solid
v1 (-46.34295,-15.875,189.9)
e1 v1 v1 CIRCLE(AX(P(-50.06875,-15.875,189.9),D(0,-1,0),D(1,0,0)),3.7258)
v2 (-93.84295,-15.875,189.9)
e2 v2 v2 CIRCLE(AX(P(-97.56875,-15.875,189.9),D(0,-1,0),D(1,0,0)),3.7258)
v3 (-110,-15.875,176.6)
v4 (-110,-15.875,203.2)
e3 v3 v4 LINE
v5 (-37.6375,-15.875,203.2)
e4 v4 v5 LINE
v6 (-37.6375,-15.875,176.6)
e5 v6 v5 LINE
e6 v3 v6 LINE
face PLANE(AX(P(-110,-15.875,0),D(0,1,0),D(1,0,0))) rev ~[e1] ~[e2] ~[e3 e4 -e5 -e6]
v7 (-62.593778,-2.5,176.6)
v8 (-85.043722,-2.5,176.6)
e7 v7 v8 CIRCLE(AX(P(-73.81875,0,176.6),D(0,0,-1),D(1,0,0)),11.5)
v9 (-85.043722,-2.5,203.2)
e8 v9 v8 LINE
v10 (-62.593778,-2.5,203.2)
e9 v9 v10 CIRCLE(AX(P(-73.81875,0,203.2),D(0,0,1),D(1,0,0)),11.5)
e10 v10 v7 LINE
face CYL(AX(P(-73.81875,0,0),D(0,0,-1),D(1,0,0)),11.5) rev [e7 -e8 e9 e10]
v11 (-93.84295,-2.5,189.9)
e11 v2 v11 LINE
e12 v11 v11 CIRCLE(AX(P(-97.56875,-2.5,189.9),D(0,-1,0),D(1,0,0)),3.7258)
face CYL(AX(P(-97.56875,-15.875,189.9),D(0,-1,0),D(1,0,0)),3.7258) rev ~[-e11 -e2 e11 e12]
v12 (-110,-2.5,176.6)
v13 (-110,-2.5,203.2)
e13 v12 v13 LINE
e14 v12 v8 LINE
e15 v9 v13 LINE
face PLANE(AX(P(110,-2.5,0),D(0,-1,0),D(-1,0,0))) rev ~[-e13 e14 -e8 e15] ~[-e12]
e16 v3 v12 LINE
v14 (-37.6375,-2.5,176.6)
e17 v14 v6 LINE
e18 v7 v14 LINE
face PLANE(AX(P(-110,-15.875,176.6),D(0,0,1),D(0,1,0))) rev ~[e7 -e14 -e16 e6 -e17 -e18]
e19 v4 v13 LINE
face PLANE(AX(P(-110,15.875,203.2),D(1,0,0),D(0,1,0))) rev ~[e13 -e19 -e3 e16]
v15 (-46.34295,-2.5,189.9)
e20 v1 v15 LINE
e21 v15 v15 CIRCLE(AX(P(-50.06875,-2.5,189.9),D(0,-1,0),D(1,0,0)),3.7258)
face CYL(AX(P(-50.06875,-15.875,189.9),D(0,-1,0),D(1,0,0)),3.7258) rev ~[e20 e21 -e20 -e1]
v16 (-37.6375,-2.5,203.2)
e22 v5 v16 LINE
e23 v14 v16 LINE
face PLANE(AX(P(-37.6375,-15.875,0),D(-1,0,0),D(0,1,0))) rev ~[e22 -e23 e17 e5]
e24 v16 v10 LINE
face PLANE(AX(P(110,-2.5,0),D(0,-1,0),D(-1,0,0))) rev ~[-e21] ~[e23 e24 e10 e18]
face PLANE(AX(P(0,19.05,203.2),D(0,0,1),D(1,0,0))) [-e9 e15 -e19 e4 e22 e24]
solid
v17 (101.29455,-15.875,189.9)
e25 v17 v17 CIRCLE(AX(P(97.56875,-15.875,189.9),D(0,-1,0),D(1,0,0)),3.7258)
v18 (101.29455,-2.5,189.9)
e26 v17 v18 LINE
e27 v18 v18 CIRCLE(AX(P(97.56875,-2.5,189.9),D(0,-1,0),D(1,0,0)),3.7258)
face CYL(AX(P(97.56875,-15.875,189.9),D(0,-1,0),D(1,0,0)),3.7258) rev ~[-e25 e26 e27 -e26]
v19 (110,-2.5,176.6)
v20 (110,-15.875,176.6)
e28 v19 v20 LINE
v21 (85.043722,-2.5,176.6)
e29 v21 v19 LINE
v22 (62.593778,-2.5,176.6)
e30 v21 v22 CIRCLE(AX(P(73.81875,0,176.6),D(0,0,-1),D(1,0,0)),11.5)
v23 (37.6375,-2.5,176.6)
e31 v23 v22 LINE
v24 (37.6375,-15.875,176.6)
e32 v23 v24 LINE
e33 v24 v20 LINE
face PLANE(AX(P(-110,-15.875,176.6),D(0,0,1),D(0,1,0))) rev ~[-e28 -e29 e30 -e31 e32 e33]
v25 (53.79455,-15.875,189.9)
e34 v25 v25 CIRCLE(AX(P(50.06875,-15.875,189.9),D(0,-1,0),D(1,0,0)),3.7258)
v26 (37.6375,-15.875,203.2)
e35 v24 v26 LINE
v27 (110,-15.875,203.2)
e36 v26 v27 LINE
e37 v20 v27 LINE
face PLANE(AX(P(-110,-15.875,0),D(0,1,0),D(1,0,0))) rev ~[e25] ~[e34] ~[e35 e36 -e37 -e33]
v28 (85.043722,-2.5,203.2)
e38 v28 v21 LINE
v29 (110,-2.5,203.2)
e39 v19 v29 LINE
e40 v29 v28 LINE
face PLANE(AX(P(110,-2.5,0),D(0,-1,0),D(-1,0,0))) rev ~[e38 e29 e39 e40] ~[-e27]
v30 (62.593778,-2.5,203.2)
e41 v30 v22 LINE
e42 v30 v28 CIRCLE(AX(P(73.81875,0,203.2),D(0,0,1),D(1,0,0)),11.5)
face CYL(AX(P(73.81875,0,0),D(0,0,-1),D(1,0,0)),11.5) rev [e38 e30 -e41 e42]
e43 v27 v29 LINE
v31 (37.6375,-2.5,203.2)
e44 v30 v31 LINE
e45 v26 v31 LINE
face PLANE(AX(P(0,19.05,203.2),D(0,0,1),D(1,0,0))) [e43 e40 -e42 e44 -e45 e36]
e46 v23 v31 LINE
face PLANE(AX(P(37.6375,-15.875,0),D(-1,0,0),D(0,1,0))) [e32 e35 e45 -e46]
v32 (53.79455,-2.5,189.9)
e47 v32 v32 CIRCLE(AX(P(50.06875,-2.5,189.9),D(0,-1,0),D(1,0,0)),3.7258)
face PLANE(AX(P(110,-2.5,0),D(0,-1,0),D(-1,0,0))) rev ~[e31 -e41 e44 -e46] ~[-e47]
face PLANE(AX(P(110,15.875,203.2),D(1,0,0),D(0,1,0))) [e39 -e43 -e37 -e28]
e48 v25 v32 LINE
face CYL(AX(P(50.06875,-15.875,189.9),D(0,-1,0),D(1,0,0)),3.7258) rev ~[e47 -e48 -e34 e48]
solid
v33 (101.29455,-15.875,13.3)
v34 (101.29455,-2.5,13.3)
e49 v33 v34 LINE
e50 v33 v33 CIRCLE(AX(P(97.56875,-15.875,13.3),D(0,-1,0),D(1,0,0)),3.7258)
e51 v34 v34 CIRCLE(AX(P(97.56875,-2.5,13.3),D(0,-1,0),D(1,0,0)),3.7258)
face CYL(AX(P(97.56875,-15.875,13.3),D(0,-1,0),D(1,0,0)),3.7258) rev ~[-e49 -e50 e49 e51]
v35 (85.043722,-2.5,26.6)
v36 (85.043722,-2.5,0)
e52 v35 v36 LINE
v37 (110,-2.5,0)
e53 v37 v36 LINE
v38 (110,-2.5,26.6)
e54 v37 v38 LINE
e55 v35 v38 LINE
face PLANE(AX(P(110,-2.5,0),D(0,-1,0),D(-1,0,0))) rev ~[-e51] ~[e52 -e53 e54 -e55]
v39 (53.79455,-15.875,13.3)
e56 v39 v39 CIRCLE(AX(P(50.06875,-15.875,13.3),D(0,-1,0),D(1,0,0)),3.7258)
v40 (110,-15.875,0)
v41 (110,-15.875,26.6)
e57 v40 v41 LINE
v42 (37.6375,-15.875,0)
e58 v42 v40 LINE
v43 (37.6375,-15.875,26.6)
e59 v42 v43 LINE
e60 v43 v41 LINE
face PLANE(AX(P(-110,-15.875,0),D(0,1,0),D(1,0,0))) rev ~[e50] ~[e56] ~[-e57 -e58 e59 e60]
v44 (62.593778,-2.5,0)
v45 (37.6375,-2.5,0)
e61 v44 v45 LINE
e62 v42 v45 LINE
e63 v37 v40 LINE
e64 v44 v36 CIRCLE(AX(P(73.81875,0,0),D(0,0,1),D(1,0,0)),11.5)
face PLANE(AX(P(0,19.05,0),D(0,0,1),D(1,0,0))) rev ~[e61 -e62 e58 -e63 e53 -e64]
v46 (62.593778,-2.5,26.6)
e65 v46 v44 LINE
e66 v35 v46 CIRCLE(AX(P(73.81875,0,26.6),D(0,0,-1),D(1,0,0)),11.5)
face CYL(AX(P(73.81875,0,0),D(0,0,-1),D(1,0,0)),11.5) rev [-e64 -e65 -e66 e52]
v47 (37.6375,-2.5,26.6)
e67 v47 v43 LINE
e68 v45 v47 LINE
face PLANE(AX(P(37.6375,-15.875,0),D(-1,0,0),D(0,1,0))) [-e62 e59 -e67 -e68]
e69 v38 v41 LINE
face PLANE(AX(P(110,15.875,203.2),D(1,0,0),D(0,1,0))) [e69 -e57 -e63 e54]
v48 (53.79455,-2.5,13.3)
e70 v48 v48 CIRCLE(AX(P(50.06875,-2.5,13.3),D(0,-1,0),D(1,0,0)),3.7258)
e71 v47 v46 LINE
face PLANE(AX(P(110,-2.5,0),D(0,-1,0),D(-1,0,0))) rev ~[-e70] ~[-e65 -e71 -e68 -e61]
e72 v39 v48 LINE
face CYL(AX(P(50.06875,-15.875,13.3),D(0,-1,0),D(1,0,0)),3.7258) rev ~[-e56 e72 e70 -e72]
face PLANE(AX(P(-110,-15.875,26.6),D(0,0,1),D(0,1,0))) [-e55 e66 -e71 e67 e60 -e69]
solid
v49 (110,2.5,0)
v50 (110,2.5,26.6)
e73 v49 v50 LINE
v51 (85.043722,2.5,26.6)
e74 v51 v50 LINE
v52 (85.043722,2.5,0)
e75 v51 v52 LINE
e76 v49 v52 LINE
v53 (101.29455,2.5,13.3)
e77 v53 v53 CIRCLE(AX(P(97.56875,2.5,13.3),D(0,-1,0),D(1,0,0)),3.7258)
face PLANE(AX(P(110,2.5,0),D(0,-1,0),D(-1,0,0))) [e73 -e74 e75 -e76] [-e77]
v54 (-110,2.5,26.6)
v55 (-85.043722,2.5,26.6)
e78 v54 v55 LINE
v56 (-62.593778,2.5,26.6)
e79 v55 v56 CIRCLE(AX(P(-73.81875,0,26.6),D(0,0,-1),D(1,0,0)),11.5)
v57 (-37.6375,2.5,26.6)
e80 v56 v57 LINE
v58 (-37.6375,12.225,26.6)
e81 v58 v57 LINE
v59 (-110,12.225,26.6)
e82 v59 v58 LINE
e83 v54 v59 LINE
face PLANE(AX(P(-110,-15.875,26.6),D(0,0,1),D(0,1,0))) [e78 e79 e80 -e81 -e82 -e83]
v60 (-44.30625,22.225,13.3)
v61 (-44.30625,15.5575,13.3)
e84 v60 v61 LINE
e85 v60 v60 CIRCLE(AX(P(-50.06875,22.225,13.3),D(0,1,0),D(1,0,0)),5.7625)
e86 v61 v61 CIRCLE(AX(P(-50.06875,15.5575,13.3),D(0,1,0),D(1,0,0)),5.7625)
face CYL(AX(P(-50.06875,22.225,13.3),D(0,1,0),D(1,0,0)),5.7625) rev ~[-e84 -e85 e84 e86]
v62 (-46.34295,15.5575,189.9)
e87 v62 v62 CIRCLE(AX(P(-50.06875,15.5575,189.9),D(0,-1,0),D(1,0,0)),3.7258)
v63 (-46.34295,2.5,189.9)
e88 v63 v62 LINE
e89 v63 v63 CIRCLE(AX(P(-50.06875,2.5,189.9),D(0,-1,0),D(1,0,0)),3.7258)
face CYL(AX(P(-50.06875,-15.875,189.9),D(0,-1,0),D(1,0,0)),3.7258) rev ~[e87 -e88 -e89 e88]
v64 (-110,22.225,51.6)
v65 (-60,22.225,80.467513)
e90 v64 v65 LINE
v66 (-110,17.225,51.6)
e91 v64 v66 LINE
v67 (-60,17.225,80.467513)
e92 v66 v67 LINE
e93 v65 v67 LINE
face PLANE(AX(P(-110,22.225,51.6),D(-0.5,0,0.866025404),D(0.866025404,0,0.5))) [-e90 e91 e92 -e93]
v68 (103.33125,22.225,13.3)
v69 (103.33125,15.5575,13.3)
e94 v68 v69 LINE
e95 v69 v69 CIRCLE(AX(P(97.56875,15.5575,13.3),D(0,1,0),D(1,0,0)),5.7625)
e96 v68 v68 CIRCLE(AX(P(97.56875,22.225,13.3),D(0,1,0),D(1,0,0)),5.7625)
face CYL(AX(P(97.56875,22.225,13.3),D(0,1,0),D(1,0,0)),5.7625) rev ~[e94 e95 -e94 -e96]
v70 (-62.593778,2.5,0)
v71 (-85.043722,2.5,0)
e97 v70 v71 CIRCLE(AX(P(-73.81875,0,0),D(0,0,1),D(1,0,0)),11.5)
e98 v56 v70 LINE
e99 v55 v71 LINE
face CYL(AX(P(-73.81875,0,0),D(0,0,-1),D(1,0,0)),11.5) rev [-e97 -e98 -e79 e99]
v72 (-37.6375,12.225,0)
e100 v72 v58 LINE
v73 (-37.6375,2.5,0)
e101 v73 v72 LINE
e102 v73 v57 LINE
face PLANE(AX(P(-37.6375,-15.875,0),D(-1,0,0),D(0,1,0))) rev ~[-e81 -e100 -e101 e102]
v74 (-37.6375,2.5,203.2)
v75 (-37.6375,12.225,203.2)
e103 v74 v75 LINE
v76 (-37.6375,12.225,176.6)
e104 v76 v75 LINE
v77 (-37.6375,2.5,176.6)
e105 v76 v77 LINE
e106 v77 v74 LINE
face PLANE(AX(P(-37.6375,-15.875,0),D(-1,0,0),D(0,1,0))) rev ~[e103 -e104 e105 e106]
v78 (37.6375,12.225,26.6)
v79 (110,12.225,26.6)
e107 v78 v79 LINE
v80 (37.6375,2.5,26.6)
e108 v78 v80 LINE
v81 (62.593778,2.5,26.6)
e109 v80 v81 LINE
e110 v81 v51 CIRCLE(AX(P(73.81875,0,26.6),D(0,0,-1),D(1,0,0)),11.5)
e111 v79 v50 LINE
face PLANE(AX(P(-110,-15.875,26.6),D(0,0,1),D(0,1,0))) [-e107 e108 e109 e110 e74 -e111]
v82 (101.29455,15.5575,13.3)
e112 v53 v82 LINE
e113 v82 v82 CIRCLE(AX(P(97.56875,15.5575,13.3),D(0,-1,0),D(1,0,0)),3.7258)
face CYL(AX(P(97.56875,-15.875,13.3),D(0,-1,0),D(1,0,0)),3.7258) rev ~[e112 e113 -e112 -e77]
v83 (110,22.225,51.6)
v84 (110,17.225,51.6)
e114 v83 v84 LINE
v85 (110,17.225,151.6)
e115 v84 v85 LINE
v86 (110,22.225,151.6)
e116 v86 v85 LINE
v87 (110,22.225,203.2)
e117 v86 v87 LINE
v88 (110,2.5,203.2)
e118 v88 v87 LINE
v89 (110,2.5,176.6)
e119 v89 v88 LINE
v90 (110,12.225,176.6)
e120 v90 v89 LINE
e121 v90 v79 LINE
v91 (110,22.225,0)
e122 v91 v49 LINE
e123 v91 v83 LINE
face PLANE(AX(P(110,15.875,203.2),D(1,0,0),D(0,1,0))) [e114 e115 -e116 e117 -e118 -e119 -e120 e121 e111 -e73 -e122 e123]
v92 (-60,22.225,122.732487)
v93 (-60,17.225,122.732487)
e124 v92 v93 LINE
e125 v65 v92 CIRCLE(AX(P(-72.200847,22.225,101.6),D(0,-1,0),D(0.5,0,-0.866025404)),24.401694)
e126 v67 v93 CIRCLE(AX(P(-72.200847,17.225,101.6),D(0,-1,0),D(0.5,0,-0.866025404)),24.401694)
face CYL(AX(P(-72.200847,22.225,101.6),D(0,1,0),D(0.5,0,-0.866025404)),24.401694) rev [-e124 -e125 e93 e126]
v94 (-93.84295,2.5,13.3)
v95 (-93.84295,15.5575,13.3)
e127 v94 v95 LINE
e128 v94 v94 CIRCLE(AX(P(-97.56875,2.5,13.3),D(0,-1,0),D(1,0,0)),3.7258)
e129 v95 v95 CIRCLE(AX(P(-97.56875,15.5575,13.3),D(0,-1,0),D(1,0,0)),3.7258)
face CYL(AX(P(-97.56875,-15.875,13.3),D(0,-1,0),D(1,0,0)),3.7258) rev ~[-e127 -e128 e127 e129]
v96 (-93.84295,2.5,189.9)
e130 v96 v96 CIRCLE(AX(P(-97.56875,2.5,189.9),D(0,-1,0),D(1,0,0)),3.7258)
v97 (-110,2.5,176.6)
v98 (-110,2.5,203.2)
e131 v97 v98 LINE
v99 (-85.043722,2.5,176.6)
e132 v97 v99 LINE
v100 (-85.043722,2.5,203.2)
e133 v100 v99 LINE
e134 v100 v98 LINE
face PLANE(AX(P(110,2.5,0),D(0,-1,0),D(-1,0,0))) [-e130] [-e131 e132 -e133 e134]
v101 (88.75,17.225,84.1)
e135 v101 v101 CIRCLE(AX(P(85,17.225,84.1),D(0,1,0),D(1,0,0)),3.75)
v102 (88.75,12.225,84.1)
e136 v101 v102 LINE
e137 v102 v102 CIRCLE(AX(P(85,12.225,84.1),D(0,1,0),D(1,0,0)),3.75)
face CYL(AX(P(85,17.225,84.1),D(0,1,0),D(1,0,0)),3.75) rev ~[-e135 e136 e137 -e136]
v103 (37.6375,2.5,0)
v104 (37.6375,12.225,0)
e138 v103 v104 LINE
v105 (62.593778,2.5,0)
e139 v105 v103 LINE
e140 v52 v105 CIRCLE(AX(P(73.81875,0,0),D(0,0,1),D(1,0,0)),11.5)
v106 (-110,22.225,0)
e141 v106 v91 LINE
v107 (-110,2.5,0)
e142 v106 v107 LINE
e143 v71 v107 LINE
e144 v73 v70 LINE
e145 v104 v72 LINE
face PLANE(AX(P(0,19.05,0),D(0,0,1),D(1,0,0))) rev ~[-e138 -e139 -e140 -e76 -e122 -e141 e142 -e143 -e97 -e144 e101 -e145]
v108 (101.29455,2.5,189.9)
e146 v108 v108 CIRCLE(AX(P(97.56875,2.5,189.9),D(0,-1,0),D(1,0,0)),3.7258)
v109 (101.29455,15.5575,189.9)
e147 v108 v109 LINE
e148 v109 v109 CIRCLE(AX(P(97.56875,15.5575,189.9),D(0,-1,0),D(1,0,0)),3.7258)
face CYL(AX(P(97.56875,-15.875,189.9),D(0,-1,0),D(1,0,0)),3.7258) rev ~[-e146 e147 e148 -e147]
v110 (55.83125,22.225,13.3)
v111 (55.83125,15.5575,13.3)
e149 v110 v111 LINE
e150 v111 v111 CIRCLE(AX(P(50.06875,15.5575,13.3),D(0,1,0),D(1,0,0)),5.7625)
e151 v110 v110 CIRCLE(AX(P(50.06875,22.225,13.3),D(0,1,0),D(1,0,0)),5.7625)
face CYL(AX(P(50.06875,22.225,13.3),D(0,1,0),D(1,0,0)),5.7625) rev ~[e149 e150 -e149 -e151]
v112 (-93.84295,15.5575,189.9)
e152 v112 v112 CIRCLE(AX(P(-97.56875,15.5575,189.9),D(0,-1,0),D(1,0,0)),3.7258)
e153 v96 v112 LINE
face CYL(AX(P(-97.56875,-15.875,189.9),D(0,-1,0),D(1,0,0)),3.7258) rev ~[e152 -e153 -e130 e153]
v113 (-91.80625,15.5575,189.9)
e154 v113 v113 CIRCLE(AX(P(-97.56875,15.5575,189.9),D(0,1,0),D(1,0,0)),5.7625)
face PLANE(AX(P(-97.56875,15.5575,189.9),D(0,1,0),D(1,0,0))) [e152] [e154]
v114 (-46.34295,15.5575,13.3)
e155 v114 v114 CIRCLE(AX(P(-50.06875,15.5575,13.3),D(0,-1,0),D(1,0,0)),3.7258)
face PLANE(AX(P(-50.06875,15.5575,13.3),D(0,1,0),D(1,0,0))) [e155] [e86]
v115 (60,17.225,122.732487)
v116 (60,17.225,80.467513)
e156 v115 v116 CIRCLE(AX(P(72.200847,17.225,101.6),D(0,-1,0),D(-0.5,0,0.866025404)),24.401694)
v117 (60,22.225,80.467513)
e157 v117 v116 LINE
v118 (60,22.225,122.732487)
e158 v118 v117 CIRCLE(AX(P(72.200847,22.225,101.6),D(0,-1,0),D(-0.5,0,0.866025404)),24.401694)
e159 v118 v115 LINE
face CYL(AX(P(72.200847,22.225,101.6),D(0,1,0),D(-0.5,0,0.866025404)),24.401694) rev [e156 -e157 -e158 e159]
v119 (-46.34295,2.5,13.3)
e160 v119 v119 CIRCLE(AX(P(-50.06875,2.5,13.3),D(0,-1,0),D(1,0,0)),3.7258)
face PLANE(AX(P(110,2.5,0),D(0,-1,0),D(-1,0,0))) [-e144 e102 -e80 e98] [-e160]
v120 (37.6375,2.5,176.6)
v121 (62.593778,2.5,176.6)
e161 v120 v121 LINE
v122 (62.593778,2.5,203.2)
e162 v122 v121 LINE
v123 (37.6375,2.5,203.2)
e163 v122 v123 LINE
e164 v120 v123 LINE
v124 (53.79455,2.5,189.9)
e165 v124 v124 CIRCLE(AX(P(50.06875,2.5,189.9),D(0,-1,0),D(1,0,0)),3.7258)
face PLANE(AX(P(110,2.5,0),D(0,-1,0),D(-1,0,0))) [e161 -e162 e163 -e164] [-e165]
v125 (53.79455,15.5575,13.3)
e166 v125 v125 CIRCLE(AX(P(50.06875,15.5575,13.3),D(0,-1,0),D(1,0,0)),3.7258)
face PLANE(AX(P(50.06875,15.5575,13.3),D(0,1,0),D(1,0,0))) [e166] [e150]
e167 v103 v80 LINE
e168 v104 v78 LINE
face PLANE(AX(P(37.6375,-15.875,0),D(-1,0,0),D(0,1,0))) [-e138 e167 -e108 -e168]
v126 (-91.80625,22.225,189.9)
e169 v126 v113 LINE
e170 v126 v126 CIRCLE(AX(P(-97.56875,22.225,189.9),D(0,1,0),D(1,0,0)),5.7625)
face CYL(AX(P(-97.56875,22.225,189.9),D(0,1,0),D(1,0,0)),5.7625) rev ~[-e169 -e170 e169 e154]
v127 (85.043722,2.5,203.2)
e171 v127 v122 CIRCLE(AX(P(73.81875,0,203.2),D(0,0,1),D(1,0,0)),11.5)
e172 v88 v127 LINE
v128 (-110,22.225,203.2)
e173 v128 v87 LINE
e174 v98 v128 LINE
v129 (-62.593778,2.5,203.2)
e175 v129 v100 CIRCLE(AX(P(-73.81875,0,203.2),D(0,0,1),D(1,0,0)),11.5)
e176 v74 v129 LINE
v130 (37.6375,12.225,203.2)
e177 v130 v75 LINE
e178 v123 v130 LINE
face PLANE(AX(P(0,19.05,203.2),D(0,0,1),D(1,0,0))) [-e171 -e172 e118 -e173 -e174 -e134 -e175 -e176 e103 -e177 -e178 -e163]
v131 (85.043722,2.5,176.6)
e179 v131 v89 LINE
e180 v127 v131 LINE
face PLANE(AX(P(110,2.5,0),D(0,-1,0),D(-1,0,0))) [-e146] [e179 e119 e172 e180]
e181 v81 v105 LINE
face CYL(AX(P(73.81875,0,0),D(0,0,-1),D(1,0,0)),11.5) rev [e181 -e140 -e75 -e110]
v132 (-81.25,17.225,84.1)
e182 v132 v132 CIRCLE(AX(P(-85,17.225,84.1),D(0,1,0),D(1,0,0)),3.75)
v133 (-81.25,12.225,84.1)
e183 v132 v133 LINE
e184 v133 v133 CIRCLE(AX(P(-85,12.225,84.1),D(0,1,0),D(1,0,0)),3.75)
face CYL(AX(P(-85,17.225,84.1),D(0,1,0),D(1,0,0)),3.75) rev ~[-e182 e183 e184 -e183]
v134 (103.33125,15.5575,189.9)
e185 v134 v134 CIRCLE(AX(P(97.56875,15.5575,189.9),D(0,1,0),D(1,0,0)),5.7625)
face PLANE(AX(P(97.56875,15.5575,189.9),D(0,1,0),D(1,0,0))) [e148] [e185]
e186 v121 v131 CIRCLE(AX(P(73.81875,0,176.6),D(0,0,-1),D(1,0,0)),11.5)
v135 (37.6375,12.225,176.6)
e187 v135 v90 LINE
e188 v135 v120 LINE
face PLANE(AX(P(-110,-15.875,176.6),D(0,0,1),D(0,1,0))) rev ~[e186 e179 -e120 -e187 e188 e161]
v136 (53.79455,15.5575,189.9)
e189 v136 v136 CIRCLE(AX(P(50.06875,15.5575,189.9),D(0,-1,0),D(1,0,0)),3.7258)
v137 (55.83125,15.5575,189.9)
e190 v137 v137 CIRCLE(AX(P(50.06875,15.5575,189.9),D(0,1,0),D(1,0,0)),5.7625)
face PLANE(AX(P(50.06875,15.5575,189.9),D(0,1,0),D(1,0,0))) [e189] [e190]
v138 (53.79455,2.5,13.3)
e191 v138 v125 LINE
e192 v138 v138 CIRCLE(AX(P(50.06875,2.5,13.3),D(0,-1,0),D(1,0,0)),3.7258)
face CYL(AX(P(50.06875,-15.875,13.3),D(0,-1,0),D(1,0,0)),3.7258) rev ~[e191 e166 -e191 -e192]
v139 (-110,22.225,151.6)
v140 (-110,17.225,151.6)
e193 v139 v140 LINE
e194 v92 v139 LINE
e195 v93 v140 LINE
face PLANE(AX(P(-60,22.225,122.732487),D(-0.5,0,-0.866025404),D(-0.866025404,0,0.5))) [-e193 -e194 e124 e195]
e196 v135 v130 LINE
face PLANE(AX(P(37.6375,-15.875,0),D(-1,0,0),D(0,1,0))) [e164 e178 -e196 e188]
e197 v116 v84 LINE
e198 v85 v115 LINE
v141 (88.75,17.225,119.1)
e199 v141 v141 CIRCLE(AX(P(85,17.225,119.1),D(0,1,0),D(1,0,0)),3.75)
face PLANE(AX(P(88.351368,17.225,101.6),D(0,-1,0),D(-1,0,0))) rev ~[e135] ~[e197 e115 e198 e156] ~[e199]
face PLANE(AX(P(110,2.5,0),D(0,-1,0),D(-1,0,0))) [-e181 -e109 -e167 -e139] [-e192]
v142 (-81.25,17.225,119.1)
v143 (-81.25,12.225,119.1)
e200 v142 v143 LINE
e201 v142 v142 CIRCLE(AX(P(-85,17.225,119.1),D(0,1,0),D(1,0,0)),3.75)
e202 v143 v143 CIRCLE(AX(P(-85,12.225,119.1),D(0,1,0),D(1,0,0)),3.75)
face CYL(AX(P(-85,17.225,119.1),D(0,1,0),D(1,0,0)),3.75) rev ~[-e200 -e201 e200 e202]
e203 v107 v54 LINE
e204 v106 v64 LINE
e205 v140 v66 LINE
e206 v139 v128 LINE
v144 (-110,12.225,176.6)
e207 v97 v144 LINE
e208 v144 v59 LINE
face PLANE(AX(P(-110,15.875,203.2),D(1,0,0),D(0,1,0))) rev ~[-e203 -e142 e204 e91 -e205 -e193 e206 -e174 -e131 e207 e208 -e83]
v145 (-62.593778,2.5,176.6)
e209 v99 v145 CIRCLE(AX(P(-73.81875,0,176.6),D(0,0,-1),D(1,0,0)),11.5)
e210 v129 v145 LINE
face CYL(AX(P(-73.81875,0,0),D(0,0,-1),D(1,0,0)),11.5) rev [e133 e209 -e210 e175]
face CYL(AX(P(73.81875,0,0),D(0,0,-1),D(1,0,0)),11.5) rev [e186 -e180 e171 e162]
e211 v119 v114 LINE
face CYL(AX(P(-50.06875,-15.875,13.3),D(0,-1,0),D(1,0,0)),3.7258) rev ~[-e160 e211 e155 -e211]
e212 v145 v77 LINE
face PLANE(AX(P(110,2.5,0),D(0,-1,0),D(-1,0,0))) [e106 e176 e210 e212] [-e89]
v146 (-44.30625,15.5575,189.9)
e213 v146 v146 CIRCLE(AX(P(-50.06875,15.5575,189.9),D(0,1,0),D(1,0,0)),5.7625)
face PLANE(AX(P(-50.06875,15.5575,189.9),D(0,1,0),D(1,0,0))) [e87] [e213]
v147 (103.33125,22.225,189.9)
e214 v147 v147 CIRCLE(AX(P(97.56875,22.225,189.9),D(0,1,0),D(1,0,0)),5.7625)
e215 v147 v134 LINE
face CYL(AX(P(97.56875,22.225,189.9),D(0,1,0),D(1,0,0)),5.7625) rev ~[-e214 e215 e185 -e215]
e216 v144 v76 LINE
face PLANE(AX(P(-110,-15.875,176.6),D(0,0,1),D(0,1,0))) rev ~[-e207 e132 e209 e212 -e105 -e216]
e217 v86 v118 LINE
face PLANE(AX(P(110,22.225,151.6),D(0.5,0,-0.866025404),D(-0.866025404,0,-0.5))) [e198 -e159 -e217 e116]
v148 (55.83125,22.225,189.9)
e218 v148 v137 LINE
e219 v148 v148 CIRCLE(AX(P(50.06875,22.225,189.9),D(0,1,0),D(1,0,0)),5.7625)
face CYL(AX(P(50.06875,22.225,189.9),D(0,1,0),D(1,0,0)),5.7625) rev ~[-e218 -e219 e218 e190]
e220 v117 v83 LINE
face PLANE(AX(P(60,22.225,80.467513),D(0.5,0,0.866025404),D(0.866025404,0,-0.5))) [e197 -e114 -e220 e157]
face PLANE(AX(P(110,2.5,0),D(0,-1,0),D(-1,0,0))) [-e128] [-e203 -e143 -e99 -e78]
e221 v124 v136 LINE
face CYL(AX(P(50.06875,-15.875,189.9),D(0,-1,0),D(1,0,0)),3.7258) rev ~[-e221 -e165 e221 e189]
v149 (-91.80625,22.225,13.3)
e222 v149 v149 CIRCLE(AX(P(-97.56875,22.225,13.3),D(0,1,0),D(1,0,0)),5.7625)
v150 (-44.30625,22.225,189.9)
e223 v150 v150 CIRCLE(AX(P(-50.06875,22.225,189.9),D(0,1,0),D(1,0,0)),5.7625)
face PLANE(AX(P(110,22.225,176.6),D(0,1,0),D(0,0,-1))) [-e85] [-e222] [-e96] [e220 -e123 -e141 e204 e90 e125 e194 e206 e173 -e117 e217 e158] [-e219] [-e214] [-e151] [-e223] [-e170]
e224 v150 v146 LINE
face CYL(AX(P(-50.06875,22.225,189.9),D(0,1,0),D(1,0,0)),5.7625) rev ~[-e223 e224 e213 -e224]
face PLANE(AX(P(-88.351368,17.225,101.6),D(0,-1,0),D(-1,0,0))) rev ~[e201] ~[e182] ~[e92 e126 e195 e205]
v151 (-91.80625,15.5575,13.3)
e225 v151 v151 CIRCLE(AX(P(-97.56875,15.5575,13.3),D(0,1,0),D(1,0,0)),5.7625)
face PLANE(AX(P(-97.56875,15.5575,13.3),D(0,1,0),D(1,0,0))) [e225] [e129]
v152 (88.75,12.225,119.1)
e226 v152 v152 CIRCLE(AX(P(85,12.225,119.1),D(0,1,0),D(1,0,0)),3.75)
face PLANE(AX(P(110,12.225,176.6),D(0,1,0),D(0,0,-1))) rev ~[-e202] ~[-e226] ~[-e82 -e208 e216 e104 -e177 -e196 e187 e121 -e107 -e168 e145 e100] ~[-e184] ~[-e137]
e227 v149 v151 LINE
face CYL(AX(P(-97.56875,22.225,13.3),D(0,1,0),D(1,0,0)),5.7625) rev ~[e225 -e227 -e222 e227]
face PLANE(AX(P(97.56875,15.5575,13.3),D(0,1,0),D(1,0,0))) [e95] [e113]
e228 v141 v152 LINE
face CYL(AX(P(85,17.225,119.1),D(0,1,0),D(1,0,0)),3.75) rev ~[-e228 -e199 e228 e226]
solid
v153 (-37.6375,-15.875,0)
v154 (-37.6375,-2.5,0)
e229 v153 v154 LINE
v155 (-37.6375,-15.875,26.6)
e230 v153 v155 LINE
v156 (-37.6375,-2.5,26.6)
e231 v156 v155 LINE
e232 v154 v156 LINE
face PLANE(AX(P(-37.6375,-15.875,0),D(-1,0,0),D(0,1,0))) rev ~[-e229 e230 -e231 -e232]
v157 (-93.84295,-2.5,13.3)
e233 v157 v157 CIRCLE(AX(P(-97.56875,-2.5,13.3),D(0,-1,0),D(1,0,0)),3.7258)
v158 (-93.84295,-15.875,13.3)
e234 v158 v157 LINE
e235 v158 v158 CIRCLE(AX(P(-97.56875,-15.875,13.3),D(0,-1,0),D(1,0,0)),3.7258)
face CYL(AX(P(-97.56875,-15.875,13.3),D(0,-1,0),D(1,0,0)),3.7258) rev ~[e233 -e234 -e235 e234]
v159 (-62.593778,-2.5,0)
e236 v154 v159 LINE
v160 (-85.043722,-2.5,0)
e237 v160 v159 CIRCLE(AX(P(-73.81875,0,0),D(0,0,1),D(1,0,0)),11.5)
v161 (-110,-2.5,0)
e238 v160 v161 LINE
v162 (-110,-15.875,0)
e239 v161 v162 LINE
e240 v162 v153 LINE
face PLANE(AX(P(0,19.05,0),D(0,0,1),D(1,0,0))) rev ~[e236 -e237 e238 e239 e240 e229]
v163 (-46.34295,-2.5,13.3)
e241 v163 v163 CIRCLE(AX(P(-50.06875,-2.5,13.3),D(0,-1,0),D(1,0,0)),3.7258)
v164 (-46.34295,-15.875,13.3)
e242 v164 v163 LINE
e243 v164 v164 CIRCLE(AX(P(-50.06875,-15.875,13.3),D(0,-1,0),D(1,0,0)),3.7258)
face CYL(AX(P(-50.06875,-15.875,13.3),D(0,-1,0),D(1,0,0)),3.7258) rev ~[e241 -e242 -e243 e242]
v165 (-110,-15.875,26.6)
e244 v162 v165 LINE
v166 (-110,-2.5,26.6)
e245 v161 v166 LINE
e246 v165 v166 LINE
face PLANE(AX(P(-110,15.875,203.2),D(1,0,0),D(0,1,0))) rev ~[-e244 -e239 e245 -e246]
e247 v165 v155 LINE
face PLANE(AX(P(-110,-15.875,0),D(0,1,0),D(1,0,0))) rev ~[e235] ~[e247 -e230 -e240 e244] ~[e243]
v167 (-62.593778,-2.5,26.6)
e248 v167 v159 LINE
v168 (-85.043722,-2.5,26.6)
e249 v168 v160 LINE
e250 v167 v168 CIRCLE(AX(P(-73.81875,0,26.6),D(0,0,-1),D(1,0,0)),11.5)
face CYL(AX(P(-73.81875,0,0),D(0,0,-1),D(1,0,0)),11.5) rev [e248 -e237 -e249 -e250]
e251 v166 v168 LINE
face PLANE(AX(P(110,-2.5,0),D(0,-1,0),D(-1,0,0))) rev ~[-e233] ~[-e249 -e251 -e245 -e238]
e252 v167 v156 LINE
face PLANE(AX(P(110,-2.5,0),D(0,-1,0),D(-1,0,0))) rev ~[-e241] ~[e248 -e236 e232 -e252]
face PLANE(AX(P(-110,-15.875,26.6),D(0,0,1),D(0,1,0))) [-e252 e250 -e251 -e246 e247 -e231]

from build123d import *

# Parameters (mm, degrees)
SKETCH1_W           = 220
SKETCH1_H           = 31.75
SKETCH1_R           = 11.499999987
BOSS_EXTRUDE1_DEPTH = 203.2
SKETCH3_W           = 220
SKETCH3_H           = 6.35
BOSS_EXTRUDE2_DEPTH = 203.2
SKETCH4_W           = 150
SKETCH4_H           = 28.1
CUT_EXTRUDE1_DEPTH  = 253.2
SKETCH5_W           = 75.275
SKETCH5_H           = 28.1
CUT_EXTRUDE2_DEPTH  = 203.2
SKETCH6_R           = 3.7258
CUT_EXTRUDE3_DEPTH  = 203.2
SKETCH7_W           = 220
SKETCH7_H           = 5
CUT_EXTRUDE4_DEPTH  = 203.2
SKETCH8_W           = 150
SKETCH8_H           = 10
BOSS_EXTRUDE3_DEPTH = 132.41370821
SKETCH9_W           = 150
SKETCH9_H           = 10
BOSS_EXTRUDE4_DEPTH = 161.04729179
SKETCH10_R          = 3.7258
CUT_EXTRUDE5_DEPTH  = 10
SKETCH11_R          = 5.7625
CUT_EXTRUDE6_DEPTH  = 6.6675
SKETCH12_W          = 132.41370821
SKETCH12_H          = 150
SKETCH12_W_2        = 161.04729179
CUT_EXTRUDE8_DEPTH  = 82
SKETCH13_R          = 3.75
CUT_EXTRUDE10_DEPTH = 5
SKETCH16_R          = 3.75
CUT_EXTRUDE11_DEPTH = 5


with BuildPart() as part:
    # Sketch1 → Boss-Extrude1 (new body)
    with BuildSketch(Plane.XY):
        Rectangle(SKETCH1_W, SKETCH1_H)
        with Locations((-73.81875, 0)):
            Circle(SKETCH1_R, mode=Mode.SUBTRACT)
        with Locations((73.81875, 0)):
            Circle(SKETCH1_R, mode=Mode.SUBTRACT)
    extrude(amount=BOSS_EXTRUDE1_DEPTH)

    # Sketch3 → Boss-Extrude2 (add)
    with BuildSketch(Plane.XY.offset(203.2)):
        with Locations((0, 19.05)):
            Rectangle(SKETCH3_W, SKETCH3_H)
    extrude(amount=-BOSS_EXTRUDE2_DEPTH)

    # Sketch4 → Cut-Extrude1 (cut)
    with BuildSketch(Plane.ZY.offset(110)):
        with Locations((101.6, -1.825)):
            Rectangle(SKETCH4_W, SKETCH4_H)
    extrude(amount=-CUT_EXTRUDE1_DEPTH, mode=Mode.SUBTRACT)

    # Sketch5 → Cut-Extrude2 (cut)
    with BuildSketch(Plane(origin=(0, 0, 0), x_dir=(-1, 0, 0), z_dir=(0, 0, -1))):
        with Locations((0, -1.825)):
            Rectangle(SKETCH5_W, SKETCH5_H)
    extrude(amount=-CUT_EXTRUDE2_DEPTH, mode=Mode.SUBTRACT)

    # Sketch6 → Cut-Extrude3 (cut)
    with BuildSketch(Plane.XZ.offset(15.875)):
        with Locations((-50.06875, 189.9)):
            Circle(SKETCH6_R)
        with Locations((-97.56875, 189.9)):
            Circle(SKETCH6_R)
        with Locations((-97.56875, 13.3)):
            Circle(SKETCH6_R)
        with Locations((-50.06875, 13.3)):
            Circle(SKETCH6_R)
        with Locations((50.06875, 13.3)):
            Circle(SKETCH6_R)
        with Locations((97.56875, 13.3)):
            Circle(SKETCH6_R)
        with Locations((97.56875, 189.9)):
            Circle(SKETCH6_R)
        with Locations((50.06875, 189.9)):
            Circle(SKETCH6_R)
    extrude(amount=-CUT_EXTRUDE3_DEPTH, mode=Mode.SUBTRACT)

    # Sketch7 → Cut-Extrude4 (cut)
    with BuildSketch(Plane(origin=(0, 0, 0), x_dir=(-1, 0, 0), z_dir=(0, 0, -1))):
        Rectangle(SKETCH7_W, SKETCH7_H)
    extrude(amount=-CUT_EXTRUDE4_DEPTH, mode=Mode.SUBTRACT)

    # Sketch8 → Boss-Extrude3 (add)
    with BuildSketch(Plane.ZY.offset(110)):
        with Locations((101.6, 17.225)):
            Rectangle(SKETCH8_W, SKETCH8_H)
    extrude(amount=BOSS_EXTRUDE3_DEPTH)

    # Sketch9 → Boss-Extrude4 (add)
    with BuildSketch(Plane(origin=(110, 0, 0), x_dir=(0, 0, -1), z_dir=(1, 0, 0))):
        with Locations((-101.6, 17.225)):
            Rectangle(SKETCH9_W, SKETCH9_H)
    extrude(amount=BOSS_EXTRUDE4_DEPTH)

    # Sketch10 → Cut-Extrude5 (cut)
    with BuildSketch(Plane(origin=(0, 22.225, 0), x_dir=(1, 0, 0), z_dir=(0, 1, 0))):
        with Locations((-217.013708212, -152.4)):
            Circle(SKETCH10_R)
        with Locations((-217.013708212, -50.966658535)):
            Circle(SKETCH10_R)
        with Locations((245.647291788, -50.8)):
            Circle(SKETCH10_R)
        with Locations((245.647291788, -152.4)):
            Circle(SKETCH10_R)
    extrude(amount=-CUT_EXTRUDE5_DEPTH, mode=Mode.SUBTRACT)

    # Sketch11 → Cut-Extrude6 (cut)
    with BuildSketch(Plane(origin=(0, 22.225, 0), x_dir=(1, 0, 0), z_dir=(0, 1, 0))):
        with Locations((97.56875, -13.3)):
            Circle(SKETCH11_R)
        with Locations((50.06875, -13.3)):
            Circle(SKETCH11_R)
        with Locations((97.56875, -189.9)):
            Circle(SKETCH11_R)
        with Locations((50.06875, -189.9)):
            Circle(SKETCH11_R)
        with Locations((-50.06875, -189.9)):
            Circle(SKETCH11_R)
        with Locations((-97.56875, -189.9)):
            Circle(SKETCH11_R)
        with Locations((-97.56875, -13.3)):
            Circle(SKETCH11_R)
        with Locations((-50.06875, -13.3)):
            Circle(SKETCH11_R)
    extrude(amount=-CUT_EXTRUDE6_DEPTH, mode=Mode.SUBTRACT)

    # Sketch12 → Cut-Extrude8 (cut)
    with BuildSketch(Plane(origin=(0, 22.225, 0), x_dir=(1, 0, 0), z_dir=(0, 1, 0))):
        with Locations((-176.206854105, -101.6)):
            Rectangle(SKETCH12_W, SKETCH12_H)
        with Locations((190.523645895, -101.6)):
            Rectangle(SKETCH12_W_2, SKETCH12_H)
    extrude(amount=-CUT_EXTRUDE8_DEPTH, mode=Mode.SUBTRACT)

    # Sketch13 → Cut-Extrude10 (cut)
    with BuildSketch(Plane(origin=(0, 22.225, 0), x_dir=(1, 0, 0), z_dir=(0, 1, 0))):
        with BuildLine():
            ThreePointArc((60, -122.732486541), (47.799153207, -101.6), (60, -80.467513459))
            Line((60, -80.467513459), (110, -51.6))
            Line((110, -51.6), (110, -151.6))
            Line((110, -151.6), (60, -122.732486541))
        make_face()
        with Locations((85, -119.1)):
            Circle(SKETCH13_R, mode=Mode.SUBTRACT)
        with Locations((85, -84.1)):
            Circle(SKETCH13_R, mode=Mode.SUBTRACT)
        with BuildLine():
            Line((-60, -122.732486541), (-110, -151.6))
            Line((-110, -151.6), (-110, -51.6))
            Line((-110, -51.6), (-60, -80.467513459))
            ThreePointArc((-60, -80.467513459), (-47.799153207, -101.6), (-60, -122.732486541))
        make_face()
        with Locations((85, -119.1)):
            Circle(SKETCH13_R)
        with Locations((85, -84.1)):
            Circle(SKETCH13_R)
    extrude(amount=-CUT_EXTRUDE10_DEPTH, mode=Mode.SUBTRACT)

    # Sketch16 → Cut-Extrude11 (cut)
    with BuildSketch(Plane(origin=(0, 17.225, 0), x_dir=(1, 0, 0), z_dir=(0, 1, 0))):
        with Locations((-85, -84.1)):
            Circle(SKETCH16_R)
        with Locations((85, -119.1)):
            Circle(SKETCH16_R)
        with Locations((85, -84.1)):
            Circle(SKETCH16_R)
        with Locations((-85, -119.1)):
            Circle(SKETCH16_R)
    extrude(amount=-CUT_EXTRUDE11_DEPTH, mode=Mode.SUBTRACT)


solid = part.part
